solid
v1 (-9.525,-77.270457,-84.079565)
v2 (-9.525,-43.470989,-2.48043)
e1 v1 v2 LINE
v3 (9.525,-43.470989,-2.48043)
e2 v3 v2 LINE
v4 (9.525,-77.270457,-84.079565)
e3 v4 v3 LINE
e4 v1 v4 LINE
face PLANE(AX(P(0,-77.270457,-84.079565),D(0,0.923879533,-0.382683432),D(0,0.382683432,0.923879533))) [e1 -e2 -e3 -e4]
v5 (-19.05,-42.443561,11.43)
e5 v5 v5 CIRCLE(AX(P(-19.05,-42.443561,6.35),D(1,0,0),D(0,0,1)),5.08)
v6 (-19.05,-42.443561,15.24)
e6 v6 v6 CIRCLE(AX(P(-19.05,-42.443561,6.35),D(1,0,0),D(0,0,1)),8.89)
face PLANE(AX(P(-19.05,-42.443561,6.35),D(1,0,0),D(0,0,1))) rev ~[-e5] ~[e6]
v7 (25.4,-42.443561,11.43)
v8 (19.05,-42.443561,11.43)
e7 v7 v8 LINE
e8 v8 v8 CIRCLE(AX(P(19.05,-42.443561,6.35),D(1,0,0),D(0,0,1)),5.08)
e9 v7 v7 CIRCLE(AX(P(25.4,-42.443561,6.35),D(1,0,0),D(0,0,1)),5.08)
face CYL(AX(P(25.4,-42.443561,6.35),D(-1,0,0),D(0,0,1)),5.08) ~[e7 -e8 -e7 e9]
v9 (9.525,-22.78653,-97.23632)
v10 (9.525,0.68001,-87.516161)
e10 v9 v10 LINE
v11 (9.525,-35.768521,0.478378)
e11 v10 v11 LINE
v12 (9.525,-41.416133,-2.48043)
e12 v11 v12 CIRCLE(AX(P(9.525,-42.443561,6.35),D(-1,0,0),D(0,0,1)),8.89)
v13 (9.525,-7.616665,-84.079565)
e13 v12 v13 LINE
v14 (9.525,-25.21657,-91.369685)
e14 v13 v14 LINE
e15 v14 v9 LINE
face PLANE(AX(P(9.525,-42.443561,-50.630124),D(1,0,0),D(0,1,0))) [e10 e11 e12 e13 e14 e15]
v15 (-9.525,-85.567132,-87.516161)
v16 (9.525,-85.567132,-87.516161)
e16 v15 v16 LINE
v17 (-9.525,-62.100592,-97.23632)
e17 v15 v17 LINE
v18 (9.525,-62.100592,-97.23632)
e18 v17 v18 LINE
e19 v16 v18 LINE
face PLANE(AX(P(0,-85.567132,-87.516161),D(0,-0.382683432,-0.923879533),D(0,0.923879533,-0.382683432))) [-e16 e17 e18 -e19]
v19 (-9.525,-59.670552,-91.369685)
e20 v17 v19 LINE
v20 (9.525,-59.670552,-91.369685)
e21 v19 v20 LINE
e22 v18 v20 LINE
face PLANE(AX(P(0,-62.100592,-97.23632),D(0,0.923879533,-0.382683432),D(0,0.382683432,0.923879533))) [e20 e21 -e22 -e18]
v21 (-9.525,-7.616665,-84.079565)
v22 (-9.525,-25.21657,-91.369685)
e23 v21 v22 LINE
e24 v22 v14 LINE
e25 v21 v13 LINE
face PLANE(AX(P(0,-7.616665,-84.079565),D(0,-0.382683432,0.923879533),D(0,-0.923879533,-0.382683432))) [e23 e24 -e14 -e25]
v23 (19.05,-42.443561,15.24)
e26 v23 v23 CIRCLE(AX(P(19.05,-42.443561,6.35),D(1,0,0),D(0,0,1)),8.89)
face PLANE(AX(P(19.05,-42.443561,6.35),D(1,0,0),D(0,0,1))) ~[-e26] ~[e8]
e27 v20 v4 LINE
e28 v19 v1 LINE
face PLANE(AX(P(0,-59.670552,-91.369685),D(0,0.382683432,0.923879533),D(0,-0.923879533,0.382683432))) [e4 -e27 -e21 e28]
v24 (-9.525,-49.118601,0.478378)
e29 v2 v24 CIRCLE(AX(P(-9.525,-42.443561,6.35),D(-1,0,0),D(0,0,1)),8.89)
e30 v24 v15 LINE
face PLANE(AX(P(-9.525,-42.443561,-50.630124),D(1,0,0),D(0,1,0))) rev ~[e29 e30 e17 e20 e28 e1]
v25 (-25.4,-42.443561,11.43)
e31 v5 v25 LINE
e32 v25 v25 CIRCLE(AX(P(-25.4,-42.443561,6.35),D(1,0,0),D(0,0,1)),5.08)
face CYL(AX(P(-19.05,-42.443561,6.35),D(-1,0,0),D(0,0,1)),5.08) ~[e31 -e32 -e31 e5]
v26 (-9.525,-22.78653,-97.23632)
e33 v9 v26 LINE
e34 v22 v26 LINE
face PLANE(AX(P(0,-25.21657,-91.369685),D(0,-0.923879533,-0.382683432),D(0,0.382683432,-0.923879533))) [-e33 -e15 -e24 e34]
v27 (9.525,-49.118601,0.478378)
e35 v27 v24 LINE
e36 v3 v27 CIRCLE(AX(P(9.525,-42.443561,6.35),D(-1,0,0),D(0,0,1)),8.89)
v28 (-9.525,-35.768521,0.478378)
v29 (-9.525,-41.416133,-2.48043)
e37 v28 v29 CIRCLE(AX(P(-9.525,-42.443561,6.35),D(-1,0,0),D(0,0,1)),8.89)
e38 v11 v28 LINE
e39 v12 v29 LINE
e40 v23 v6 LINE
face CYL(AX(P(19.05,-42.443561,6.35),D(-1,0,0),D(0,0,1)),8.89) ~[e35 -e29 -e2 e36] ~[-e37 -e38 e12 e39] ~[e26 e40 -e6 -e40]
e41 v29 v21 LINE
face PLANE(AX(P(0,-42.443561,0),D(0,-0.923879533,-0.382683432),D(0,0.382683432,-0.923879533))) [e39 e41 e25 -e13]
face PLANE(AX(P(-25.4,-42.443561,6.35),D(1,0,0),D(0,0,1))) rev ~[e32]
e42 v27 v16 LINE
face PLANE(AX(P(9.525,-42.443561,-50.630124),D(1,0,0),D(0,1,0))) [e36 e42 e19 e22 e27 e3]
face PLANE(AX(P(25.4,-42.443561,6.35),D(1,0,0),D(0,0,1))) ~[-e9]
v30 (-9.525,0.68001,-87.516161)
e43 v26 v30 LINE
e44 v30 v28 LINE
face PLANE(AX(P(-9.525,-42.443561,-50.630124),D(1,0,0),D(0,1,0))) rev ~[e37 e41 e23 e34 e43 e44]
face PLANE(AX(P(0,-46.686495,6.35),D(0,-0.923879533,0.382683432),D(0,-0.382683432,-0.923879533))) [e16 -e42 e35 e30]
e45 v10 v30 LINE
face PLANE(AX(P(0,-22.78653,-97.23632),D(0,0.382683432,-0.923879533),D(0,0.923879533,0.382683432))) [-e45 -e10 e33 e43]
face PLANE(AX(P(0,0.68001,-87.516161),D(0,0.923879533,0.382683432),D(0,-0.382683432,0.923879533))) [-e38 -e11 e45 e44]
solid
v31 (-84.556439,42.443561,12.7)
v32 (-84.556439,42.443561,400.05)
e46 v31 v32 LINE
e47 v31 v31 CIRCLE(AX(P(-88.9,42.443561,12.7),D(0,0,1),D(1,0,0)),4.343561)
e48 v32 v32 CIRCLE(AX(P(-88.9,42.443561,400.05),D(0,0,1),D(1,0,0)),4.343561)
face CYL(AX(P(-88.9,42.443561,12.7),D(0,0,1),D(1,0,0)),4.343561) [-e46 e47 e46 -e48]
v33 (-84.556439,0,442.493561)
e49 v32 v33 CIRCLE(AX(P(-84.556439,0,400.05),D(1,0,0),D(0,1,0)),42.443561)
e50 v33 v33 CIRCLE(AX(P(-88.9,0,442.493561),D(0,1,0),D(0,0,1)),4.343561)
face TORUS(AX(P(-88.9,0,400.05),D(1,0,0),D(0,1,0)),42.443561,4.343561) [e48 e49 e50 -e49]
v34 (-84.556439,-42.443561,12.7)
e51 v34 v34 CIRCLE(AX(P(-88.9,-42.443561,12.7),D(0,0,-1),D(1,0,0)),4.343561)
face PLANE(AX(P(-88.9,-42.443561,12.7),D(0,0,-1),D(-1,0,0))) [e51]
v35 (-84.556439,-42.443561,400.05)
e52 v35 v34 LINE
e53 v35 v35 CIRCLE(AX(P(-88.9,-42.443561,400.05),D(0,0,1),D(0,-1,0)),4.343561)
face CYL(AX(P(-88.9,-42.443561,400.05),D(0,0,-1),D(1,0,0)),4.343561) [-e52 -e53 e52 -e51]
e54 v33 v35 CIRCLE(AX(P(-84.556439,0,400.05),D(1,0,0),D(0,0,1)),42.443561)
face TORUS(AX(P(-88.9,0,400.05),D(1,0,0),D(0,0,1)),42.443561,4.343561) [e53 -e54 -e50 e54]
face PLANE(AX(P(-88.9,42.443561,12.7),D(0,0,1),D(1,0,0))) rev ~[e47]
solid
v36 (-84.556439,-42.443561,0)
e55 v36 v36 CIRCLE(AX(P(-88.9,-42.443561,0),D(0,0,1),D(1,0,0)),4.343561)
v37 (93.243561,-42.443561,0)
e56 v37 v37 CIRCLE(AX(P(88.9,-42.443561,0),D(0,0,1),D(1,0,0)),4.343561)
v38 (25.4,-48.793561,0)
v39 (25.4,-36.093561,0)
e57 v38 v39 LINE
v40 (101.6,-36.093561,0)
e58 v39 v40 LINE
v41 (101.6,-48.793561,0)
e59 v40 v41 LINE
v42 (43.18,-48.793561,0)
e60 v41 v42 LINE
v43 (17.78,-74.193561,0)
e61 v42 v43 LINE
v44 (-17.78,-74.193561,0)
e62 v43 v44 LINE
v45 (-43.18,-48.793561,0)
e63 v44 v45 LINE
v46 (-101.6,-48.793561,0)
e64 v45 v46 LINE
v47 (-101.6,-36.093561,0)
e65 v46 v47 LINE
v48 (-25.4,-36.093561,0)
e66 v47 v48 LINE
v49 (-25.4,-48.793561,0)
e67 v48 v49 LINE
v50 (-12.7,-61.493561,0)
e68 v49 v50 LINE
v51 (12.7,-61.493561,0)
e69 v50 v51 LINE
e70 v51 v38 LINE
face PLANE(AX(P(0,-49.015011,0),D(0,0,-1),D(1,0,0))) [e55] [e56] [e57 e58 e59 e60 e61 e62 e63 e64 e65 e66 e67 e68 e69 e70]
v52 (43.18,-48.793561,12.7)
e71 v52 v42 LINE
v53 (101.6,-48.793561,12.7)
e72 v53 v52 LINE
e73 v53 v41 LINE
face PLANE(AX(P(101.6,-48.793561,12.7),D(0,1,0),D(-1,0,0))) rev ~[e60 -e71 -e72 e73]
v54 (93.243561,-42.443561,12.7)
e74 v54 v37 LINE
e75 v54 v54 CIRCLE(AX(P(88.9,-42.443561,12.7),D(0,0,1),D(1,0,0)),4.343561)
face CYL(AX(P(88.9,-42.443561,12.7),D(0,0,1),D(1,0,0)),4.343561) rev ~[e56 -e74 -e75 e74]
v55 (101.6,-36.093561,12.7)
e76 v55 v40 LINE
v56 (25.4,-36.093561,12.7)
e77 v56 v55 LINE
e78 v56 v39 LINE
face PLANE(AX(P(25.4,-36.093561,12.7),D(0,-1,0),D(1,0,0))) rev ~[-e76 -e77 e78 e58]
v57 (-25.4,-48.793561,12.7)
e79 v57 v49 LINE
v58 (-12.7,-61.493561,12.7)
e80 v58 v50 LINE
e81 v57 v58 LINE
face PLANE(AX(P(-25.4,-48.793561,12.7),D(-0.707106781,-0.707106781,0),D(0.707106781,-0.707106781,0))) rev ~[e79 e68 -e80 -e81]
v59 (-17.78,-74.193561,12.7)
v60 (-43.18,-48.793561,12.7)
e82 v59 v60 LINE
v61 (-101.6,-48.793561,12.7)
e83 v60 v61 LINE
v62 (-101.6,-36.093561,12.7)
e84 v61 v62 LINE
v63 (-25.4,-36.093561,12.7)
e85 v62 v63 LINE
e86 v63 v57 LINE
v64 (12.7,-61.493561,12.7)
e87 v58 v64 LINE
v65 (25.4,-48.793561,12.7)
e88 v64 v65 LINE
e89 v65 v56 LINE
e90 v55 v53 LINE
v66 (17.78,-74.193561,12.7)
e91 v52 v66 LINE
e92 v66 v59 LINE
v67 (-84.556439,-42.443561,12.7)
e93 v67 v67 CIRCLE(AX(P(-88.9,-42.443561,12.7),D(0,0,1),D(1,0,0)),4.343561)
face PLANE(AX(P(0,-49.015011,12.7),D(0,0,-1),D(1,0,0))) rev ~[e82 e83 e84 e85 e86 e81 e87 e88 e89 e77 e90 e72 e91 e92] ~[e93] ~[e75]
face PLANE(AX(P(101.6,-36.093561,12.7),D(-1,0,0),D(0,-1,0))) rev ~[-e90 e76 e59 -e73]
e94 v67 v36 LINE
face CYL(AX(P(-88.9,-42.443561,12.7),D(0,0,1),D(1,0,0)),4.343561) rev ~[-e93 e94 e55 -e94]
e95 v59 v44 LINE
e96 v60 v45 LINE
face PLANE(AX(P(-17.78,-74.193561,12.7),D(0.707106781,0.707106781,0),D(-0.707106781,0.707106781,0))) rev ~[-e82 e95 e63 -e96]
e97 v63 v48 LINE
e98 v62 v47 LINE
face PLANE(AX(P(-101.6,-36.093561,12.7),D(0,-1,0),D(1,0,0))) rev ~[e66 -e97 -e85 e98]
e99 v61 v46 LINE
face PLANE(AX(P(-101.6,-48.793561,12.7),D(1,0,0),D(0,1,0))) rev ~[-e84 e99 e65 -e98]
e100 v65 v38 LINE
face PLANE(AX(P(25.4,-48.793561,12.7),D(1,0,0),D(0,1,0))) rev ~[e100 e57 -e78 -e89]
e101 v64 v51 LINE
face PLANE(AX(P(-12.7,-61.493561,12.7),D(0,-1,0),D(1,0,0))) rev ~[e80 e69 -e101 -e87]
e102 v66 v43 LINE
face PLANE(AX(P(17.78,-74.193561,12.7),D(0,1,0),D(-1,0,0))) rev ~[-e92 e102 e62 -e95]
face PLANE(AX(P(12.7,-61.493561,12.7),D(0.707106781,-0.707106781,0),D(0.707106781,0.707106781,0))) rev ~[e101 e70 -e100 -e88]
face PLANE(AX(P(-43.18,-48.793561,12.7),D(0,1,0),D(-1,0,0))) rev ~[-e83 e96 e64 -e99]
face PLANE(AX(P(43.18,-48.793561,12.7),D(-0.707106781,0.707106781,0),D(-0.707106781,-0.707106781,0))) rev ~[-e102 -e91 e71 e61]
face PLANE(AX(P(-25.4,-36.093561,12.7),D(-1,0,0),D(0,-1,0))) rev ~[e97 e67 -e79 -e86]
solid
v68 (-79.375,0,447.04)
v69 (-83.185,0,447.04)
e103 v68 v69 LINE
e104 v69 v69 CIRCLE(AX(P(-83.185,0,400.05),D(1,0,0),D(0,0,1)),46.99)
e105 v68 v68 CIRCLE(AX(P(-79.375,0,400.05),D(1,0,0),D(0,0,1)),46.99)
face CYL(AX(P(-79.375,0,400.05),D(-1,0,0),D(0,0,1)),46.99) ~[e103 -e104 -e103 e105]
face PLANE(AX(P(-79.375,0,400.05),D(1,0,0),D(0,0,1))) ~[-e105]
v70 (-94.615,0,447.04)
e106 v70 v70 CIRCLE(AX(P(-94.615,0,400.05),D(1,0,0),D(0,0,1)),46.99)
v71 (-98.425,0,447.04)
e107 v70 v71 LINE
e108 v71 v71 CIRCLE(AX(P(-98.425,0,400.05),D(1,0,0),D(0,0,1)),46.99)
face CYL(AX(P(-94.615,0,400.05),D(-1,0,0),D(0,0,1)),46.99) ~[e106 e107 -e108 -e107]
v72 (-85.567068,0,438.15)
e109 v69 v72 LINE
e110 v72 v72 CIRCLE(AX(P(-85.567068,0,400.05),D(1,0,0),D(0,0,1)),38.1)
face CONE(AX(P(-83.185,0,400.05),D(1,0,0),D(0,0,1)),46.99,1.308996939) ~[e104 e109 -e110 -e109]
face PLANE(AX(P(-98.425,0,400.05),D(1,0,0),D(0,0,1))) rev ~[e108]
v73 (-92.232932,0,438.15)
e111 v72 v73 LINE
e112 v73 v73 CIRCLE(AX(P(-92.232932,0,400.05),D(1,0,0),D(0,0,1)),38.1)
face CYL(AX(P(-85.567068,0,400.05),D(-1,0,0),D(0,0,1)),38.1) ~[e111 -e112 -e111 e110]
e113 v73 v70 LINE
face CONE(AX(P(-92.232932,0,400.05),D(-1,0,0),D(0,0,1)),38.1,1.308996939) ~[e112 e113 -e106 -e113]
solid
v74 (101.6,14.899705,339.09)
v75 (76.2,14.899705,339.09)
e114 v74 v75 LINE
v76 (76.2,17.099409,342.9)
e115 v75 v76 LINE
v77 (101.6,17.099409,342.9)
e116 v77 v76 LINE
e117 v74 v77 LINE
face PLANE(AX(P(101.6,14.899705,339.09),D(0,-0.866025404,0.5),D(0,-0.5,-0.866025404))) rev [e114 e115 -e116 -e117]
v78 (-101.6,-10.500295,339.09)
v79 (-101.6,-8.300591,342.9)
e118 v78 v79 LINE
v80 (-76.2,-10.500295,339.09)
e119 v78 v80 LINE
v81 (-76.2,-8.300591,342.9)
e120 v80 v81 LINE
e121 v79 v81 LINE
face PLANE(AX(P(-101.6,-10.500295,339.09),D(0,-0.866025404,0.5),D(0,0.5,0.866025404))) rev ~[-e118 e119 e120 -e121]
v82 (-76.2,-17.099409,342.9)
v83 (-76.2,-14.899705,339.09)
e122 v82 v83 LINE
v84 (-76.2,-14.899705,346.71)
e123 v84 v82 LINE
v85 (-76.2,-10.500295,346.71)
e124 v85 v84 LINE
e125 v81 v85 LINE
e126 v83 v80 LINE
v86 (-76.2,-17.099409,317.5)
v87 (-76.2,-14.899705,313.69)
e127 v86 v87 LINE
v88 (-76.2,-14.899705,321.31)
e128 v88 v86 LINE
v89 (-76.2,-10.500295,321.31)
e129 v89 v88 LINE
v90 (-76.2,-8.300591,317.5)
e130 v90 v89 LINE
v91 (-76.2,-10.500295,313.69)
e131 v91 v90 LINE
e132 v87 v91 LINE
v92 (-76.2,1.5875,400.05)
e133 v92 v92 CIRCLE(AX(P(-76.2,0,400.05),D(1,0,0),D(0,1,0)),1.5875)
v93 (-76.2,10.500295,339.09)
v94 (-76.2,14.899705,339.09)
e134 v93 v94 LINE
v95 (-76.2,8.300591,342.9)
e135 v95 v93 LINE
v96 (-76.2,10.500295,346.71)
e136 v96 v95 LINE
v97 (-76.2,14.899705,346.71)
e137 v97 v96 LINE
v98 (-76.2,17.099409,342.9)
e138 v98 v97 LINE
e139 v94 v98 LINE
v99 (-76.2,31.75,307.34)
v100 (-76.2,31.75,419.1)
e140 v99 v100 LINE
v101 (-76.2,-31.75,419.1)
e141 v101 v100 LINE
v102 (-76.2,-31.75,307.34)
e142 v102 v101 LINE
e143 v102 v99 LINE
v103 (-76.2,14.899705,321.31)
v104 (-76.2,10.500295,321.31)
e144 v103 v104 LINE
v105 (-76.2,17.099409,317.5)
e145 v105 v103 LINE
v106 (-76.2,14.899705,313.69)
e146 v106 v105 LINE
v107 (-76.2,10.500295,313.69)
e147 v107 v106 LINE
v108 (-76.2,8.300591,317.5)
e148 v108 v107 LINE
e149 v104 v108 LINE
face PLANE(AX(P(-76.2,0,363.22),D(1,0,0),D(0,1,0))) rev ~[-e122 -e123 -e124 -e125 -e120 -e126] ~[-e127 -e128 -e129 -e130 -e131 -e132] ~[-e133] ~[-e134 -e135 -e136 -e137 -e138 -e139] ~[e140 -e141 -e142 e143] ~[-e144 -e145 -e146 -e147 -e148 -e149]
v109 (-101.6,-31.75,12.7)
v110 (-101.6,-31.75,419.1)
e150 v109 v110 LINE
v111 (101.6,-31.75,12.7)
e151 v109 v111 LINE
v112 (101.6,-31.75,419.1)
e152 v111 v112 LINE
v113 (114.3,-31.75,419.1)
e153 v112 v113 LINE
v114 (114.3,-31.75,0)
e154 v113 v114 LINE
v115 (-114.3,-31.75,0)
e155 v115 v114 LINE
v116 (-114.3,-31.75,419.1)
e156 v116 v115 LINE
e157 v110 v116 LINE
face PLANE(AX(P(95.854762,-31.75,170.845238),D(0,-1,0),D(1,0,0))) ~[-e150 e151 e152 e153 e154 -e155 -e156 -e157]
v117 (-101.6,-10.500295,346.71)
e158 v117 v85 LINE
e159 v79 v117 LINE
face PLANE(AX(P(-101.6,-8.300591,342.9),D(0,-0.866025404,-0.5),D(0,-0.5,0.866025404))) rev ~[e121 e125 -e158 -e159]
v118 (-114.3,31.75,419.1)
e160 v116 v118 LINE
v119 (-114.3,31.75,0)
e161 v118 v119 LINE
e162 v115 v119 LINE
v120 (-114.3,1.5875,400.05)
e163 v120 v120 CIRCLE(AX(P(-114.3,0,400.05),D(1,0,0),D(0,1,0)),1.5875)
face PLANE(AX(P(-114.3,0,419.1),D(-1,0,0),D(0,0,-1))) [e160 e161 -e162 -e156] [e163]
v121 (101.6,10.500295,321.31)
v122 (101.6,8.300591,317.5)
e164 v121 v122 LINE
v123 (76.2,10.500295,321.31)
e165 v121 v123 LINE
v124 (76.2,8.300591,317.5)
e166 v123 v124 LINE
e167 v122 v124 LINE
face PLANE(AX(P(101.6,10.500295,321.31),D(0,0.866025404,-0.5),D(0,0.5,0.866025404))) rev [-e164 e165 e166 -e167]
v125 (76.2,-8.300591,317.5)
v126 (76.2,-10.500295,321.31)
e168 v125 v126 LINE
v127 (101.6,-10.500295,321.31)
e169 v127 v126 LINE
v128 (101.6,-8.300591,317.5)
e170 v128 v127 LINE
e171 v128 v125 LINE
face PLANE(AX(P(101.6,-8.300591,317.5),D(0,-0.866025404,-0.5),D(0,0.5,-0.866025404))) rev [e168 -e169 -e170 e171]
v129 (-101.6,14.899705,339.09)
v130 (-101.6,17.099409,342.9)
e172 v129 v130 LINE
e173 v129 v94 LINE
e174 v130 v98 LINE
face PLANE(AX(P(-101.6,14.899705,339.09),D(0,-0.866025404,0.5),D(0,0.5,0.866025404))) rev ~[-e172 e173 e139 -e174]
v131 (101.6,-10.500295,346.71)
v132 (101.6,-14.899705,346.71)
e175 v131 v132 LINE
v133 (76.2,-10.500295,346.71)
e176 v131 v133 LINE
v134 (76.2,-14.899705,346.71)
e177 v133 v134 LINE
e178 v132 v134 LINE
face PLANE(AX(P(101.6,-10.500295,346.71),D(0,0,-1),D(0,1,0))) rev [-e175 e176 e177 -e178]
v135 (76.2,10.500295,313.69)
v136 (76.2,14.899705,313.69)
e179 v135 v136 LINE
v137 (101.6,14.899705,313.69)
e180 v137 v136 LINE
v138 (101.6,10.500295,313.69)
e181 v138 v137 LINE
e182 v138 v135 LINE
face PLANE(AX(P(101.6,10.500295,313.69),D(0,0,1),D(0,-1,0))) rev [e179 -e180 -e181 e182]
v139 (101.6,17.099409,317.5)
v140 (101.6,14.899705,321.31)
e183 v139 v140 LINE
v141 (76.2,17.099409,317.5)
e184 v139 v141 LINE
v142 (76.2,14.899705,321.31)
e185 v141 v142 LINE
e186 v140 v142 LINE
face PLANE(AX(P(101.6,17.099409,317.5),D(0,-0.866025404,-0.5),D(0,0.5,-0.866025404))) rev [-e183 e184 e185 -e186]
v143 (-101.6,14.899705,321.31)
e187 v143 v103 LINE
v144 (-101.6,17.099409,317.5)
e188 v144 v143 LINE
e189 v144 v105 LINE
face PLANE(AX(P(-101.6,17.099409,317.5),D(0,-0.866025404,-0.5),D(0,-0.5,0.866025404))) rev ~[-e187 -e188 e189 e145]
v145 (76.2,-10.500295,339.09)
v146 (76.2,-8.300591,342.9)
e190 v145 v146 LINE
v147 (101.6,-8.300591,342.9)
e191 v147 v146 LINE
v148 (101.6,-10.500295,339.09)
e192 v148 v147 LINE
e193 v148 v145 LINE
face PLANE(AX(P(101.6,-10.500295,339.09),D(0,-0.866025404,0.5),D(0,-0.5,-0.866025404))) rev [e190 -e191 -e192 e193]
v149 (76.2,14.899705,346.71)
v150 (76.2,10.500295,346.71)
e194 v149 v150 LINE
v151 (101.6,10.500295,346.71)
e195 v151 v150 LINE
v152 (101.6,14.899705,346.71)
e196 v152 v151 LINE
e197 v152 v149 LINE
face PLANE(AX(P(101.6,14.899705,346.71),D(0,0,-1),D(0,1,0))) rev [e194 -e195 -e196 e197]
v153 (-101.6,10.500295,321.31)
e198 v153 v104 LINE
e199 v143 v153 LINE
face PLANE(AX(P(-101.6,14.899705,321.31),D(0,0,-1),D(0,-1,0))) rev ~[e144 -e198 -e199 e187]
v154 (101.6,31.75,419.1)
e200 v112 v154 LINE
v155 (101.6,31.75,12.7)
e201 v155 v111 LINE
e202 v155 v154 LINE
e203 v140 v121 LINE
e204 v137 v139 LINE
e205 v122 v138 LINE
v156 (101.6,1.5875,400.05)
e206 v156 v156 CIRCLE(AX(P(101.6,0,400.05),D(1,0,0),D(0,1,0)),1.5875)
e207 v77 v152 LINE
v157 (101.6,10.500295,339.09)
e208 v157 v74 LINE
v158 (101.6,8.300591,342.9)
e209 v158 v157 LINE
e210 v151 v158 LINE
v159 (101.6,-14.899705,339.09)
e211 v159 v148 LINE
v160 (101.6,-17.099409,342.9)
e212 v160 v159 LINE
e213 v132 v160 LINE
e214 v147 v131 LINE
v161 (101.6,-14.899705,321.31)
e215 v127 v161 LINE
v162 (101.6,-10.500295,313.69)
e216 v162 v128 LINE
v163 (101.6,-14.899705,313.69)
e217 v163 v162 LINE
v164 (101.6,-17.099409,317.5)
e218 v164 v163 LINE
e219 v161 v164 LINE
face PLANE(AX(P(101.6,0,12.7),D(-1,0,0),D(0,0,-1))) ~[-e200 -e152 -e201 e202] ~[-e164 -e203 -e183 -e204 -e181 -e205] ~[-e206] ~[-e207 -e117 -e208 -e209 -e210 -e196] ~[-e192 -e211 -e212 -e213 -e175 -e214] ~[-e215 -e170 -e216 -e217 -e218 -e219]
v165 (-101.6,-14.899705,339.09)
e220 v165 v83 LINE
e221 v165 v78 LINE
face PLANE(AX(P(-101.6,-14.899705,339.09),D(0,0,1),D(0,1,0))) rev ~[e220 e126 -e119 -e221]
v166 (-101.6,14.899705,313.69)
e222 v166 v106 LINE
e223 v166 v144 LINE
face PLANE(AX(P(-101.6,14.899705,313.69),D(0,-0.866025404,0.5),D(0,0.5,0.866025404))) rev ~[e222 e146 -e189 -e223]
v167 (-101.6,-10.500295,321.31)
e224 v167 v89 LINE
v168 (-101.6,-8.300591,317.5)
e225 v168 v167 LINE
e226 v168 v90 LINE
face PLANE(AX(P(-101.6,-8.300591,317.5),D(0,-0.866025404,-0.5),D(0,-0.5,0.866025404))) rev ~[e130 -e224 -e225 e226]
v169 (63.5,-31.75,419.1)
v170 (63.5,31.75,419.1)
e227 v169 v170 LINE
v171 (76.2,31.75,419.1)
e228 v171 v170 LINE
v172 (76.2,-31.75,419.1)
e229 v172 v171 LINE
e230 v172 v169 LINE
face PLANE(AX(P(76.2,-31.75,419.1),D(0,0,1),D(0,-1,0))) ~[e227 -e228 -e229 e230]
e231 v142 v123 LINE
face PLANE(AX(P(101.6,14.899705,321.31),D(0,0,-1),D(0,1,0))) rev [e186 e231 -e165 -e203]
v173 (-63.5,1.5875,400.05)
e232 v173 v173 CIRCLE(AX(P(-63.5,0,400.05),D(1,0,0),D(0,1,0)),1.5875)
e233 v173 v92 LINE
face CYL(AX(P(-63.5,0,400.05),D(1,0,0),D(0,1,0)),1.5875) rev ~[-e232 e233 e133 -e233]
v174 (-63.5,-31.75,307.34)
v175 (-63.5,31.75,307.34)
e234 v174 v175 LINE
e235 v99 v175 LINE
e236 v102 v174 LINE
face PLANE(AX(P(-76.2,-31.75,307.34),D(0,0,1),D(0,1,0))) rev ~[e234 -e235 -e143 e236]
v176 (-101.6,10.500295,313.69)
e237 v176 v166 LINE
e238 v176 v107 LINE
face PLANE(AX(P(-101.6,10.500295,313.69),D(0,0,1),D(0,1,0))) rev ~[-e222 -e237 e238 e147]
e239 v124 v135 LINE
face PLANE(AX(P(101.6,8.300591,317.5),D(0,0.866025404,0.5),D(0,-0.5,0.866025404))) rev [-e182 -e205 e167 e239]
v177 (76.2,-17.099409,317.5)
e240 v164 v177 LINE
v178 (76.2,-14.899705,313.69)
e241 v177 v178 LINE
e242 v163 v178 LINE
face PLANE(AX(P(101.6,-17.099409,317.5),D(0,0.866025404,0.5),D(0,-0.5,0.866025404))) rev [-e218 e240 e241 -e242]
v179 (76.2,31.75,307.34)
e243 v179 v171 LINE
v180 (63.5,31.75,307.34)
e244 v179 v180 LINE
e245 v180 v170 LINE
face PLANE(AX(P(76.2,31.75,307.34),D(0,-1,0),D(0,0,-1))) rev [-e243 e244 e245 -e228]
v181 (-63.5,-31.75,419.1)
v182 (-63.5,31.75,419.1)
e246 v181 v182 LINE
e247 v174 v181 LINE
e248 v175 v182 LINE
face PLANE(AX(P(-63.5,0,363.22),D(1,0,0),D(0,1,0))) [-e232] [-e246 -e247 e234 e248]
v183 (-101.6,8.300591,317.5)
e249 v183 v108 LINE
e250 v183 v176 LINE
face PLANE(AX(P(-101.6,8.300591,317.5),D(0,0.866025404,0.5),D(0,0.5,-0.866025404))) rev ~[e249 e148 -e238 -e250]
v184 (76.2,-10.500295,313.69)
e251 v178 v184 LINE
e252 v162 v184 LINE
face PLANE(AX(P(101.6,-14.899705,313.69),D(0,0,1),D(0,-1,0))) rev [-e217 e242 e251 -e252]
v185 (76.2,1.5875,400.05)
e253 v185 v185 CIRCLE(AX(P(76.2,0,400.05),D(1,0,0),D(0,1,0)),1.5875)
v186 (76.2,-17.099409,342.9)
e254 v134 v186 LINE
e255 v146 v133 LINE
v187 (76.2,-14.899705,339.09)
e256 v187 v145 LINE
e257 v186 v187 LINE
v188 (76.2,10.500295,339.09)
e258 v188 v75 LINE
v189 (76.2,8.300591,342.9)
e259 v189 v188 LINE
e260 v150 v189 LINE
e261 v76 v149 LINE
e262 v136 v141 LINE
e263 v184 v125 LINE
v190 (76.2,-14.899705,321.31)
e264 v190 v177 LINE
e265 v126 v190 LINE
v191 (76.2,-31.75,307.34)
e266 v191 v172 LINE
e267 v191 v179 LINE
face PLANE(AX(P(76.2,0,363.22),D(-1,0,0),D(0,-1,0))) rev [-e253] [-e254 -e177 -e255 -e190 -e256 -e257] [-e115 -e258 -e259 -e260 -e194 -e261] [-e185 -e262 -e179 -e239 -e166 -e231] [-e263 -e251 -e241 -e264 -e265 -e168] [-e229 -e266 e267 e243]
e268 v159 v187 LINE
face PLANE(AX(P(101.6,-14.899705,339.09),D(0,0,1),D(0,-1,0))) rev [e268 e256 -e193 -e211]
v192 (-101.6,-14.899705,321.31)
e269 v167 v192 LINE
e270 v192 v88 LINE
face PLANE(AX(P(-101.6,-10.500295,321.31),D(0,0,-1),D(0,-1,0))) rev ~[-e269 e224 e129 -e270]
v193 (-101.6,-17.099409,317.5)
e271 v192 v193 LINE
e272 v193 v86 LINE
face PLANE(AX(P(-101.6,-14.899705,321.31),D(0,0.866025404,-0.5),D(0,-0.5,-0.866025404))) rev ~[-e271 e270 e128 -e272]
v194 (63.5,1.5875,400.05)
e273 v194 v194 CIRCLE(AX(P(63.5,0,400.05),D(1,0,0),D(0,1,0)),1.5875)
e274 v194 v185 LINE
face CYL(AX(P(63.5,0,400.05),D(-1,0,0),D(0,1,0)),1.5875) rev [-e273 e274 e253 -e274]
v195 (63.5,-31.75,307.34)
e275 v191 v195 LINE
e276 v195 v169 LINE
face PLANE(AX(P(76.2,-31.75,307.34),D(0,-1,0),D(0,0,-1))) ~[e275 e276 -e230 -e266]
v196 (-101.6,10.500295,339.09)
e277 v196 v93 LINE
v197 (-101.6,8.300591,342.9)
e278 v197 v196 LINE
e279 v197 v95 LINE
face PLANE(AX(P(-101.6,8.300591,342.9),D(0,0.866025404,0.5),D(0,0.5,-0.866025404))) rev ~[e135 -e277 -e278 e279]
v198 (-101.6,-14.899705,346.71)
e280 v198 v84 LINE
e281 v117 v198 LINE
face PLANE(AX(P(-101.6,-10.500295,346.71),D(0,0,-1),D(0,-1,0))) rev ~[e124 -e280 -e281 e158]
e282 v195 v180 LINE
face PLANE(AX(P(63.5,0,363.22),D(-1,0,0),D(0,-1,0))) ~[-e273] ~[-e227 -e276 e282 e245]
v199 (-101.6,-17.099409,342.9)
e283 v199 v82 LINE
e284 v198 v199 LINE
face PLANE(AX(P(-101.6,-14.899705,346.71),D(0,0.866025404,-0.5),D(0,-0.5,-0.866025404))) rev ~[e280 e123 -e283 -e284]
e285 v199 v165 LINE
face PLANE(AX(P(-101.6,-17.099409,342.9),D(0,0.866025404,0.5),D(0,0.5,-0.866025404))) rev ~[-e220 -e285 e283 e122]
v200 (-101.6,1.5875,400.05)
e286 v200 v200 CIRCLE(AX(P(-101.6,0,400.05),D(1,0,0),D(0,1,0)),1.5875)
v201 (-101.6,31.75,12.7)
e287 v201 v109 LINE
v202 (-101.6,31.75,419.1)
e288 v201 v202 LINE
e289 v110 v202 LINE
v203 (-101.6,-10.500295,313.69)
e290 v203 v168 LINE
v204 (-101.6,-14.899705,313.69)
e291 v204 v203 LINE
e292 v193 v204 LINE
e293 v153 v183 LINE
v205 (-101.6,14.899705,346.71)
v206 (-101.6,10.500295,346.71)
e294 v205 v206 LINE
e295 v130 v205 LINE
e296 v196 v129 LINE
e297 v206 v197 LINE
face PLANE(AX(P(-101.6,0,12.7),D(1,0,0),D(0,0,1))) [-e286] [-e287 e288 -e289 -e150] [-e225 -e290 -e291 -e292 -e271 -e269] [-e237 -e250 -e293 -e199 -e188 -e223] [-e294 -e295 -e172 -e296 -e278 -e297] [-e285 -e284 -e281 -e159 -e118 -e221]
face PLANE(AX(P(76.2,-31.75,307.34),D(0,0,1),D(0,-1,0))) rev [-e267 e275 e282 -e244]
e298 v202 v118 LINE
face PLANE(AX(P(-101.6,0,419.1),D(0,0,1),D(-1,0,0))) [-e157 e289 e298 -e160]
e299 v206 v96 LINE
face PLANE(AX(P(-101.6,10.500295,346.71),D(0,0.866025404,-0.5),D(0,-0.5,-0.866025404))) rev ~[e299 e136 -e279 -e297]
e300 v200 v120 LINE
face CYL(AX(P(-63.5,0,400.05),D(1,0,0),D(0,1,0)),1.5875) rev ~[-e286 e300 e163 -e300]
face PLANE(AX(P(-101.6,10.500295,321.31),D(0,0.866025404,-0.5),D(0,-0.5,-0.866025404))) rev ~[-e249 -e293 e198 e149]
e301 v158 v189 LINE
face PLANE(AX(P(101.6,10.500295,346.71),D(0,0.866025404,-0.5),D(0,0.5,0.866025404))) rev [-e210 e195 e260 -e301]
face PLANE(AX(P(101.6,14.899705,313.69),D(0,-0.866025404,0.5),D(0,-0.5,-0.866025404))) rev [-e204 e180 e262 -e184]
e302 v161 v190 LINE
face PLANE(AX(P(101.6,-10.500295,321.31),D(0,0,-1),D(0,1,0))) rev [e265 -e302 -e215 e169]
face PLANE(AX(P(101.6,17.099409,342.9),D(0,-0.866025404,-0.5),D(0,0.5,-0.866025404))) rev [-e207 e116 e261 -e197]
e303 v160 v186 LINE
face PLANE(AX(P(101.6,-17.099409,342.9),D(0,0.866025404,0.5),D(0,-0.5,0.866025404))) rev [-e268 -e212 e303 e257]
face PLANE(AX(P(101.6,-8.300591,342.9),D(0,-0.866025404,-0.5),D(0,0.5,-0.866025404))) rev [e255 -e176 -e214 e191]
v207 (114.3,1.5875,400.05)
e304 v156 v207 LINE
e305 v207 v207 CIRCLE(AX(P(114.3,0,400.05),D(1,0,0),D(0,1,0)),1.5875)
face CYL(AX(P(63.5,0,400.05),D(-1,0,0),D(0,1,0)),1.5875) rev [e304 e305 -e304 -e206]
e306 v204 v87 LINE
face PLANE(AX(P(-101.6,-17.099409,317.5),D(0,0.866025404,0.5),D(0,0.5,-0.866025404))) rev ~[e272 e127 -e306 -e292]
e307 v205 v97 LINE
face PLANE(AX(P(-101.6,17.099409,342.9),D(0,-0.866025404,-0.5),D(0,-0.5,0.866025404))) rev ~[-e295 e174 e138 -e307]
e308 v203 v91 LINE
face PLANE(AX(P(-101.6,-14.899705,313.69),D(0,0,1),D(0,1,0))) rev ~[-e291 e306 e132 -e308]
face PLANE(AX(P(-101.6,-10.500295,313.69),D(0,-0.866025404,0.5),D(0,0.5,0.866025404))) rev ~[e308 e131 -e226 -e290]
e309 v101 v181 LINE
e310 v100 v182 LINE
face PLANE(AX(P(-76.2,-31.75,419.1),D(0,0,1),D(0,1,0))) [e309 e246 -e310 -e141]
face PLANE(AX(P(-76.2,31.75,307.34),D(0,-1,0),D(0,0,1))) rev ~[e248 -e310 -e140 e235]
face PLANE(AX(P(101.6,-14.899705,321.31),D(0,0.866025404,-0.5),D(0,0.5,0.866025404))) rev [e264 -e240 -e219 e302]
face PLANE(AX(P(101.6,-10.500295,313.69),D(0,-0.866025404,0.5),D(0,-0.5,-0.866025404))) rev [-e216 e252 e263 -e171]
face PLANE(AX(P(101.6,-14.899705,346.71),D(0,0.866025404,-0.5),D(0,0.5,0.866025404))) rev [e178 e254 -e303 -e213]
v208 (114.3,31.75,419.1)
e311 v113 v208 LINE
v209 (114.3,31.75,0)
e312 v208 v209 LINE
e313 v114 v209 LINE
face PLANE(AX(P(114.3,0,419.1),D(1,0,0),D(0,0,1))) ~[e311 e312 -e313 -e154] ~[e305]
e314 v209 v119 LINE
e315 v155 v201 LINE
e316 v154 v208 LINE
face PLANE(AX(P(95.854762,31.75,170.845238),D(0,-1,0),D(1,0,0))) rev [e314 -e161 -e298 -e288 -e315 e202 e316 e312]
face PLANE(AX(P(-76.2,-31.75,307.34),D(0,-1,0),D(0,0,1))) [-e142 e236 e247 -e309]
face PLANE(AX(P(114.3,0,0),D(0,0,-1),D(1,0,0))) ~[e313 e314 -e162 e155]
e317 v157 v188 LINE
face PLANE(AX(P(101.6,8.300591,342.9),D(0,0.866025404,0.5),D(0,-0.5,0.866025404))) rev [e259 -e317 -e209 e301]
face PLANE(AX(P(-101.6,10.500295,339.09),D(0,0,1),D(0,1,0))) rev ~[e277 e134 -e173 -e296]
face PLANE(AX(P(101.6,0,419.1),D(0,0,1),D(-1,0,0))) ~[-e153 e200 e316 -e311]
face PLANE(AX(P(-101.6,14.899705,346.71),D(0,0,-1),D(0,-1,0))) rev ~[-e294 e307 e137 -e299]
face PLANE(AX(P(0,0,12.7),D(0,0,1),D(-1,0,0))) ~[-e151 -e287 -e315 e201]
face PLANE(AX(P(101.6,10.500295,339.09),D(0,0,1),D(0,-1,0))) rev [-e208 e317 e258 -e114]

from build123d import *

# Parameters (mm, degrees)
F1_DEPTH  = 31.75
F3_DEPTH  = 25.4
F4_W      = 63.5
F4_H      = 111.76
F5_DEPTH  = 12.7
F6_R      = 1.5875
F7_DEPTH  = 50.801
F11_R     = 4.3435611304
F15_DEPTH = 12.7
F21_DEPTH = 9.525
F22_R     = 4.3435611304
F23_DEPTH = 109.9373196852


with BuildPart() as f1:
    # F0 (on Front) → F1 (new body, symmetric)
    with BuildSketch(Plane.XZ):
        Polygon((-114.3, 0), (0, 0), (0, 12.7), (-101.6, 12.7), (-101.6, 419.1), (-114.3, 419.1), align=None)
    extrude(amount=F1_DEPTH, both=True)

    # F2 (on face) → F3 (join)
    with BuildSketch(Plane.YZ.offset(-101.6)):
        Polygon((-14.8997045256, 339.09), (-10.5002954744, 339.09), (-8.3005909488, 342.9), (-10.5002954744, 346.71), (-14.8997045256, 346.71), (-17.0994090512, 342.9), align=None)
        Polygon((14.8997045256, 339.09), (17.0994090512, 342.9), (14.8997045256, 346.71), (10.5002954744, 346.71), (8.3005909488, 342.9), (10.5002954744, 339.09), align=None)
        Polygon((-14.8997045256, 313.69), (-10.5002954744, 313.69), (-8.3005909488, 317.5), (-10.5002954744, 321.31), (-14.8997045256, 321.31), (-17.0994090512, 317.5), align=None)
        Polygon((14.8997045256, 313.69), (17.0994090512, 317.5), (14.8997045256, 321.31), (10.5002954744, 321.31), (8.3005909488, 317.5), (10.5002954744, 313.69), align=None)
    extrude(amount=F3_DEPTH)

    # F4 (on face) → F5 (join)
    with BuildSketch(Plane.YZ.offset(-76.2)):
        with Locations((0, 363.22)):
            Rectangle(F4_W, F4_H)
    extrude(amount=F5_DEPTH)

    # F6 (on face) → F7 (cut, through all)
    with BuildSketch(Plane.YZ.offset(-63.5)):
        with Locations((0, 400.05)):
            Circle(F6_R)
    extrude(amount=-F7_DEPTH, mode=Mode.SUBTRACT)

    # F8: F1 across plane


with BuildPart() as f1_1:
    add(f1.part)
    add(f1.part.mirror(Plane.YZ))


with BuildPart() as f10:
    # F9 (on Front) → F10 (revolve)
    with BuildSketch(Plane.XZ):
        Polygon((-98.425, 447.04), (-98.425, 400.05), (-79.375, 400.05), (-79.375, 447.04), (-83.185, 447.04), (-85.5670683207, 438.15), (-92.2329316793, 438.15), (-94.615, 447.04), align=None)
    revolve(axis=Axis((-88.9, 0, 400.05), (1, 0, 0)))


with BuildPart() as f13:
    # F13: sweep along a path in F12
    with BuildLine(Plane.YZ) as f13_path:
        Line((42.4435611304, 12.7), (42.4435611304, 400.05))
        ThreePointArc((42.4435611304, 400.05), (30.012129893, 430.062129893), (0, 442.4935611304))
        ThreePointArc((0, 442.4935611304), (-30.012129893, 430.062129893), (-42.4435611304, 400.05))
        Line((-42.4435611304, 400.05), (-42.4435611304, 12.7))
    # F11 (on Front) → F13 (sweep)
    with BuildSketch(Plane.XZ):
        with Locations((-88.9, 442.4935611304)):
            Circle(F11_R)
    sweep(path=f13_path.line)


with BuildPart() as f15:
    # F14 (on face) → F15 (new body)
    with BuildSketch(Plane(origin=(0, 0, 12.7), x_dir=(1, 0, 0), z_dir=(0, 0, -1))):
        Polygon((-43.18, 48.7935611304), (-101.6, 48.7935611304), (-101.6, 36.0935611304), (-25.4, 36.0935611304), (-25.4, 48.7935611304), (-12.7, 61.4935611304), (12.7, 61.4935611304), (25.4, 48.7935611304), (25.4, 36.0935611304), (101.6, 36.0935611304), (101.6, 48.7935611304), (43.18, 48.7935611304), (17.78, 74.1935611304), (-17.78, 74.1935611304), align=None)
    extrude(amount=F15_DEPTH)

    # F22 (on face) → F23 (cut, through all)
    with BuildSketch(Plane.XY.offset(12.7)):
        with Locations((-88.9, -42.4435611304)):
            Circle(F22_R)
        with Locations((88.9, -42.4435611304)):
            Circle(F22_R)
    extrude(amount=-F23_DEPTH, mode=Mode.SUBTRACT)


with BuildPart() as f19:
    # F18 (on plane+point) → F19 (revolve)
    with BuildSketch(Plane.XZ.offset(42.4435611304)):
        Polygon((-25.4, 11.43), (-25.4, 6.35), (25.4, 6.35), (25.4, 11.43), (19.05, 11.43), (19.05, 15.24), (-19.05, 15.24), (-19.05, 11.43), align=None)
    revolve(axis=Axis((0, -42.4435611304, 6.35), (1, 0, 0)))

    # F20 (on Right) → F21 (join, symmetric)
    with BuildSketch(Plane.YZ):
        Polygon((-38.2006267796, 6.35), (-46.6864954812, 6.35), (-85.5671322095, -87.5161605031), (-62.1005920837, -97.2363196852), (-59.6705522882, -91.3696846538), (-77.2704573825, -84.0795652672), (-42.4435611304, 0), (-7.6166648783, -84.0795652672), (-25.2165699726, -91.3696846538), (-22.7865301771, -97.2363196852), (0.6800099487, -87.5161605031), align=None)
    extrude(amount=F21_DEPTH, both=True)


solid = Compound([f1_1.part, f10.part, f13.part, f15.part, f19.part])
